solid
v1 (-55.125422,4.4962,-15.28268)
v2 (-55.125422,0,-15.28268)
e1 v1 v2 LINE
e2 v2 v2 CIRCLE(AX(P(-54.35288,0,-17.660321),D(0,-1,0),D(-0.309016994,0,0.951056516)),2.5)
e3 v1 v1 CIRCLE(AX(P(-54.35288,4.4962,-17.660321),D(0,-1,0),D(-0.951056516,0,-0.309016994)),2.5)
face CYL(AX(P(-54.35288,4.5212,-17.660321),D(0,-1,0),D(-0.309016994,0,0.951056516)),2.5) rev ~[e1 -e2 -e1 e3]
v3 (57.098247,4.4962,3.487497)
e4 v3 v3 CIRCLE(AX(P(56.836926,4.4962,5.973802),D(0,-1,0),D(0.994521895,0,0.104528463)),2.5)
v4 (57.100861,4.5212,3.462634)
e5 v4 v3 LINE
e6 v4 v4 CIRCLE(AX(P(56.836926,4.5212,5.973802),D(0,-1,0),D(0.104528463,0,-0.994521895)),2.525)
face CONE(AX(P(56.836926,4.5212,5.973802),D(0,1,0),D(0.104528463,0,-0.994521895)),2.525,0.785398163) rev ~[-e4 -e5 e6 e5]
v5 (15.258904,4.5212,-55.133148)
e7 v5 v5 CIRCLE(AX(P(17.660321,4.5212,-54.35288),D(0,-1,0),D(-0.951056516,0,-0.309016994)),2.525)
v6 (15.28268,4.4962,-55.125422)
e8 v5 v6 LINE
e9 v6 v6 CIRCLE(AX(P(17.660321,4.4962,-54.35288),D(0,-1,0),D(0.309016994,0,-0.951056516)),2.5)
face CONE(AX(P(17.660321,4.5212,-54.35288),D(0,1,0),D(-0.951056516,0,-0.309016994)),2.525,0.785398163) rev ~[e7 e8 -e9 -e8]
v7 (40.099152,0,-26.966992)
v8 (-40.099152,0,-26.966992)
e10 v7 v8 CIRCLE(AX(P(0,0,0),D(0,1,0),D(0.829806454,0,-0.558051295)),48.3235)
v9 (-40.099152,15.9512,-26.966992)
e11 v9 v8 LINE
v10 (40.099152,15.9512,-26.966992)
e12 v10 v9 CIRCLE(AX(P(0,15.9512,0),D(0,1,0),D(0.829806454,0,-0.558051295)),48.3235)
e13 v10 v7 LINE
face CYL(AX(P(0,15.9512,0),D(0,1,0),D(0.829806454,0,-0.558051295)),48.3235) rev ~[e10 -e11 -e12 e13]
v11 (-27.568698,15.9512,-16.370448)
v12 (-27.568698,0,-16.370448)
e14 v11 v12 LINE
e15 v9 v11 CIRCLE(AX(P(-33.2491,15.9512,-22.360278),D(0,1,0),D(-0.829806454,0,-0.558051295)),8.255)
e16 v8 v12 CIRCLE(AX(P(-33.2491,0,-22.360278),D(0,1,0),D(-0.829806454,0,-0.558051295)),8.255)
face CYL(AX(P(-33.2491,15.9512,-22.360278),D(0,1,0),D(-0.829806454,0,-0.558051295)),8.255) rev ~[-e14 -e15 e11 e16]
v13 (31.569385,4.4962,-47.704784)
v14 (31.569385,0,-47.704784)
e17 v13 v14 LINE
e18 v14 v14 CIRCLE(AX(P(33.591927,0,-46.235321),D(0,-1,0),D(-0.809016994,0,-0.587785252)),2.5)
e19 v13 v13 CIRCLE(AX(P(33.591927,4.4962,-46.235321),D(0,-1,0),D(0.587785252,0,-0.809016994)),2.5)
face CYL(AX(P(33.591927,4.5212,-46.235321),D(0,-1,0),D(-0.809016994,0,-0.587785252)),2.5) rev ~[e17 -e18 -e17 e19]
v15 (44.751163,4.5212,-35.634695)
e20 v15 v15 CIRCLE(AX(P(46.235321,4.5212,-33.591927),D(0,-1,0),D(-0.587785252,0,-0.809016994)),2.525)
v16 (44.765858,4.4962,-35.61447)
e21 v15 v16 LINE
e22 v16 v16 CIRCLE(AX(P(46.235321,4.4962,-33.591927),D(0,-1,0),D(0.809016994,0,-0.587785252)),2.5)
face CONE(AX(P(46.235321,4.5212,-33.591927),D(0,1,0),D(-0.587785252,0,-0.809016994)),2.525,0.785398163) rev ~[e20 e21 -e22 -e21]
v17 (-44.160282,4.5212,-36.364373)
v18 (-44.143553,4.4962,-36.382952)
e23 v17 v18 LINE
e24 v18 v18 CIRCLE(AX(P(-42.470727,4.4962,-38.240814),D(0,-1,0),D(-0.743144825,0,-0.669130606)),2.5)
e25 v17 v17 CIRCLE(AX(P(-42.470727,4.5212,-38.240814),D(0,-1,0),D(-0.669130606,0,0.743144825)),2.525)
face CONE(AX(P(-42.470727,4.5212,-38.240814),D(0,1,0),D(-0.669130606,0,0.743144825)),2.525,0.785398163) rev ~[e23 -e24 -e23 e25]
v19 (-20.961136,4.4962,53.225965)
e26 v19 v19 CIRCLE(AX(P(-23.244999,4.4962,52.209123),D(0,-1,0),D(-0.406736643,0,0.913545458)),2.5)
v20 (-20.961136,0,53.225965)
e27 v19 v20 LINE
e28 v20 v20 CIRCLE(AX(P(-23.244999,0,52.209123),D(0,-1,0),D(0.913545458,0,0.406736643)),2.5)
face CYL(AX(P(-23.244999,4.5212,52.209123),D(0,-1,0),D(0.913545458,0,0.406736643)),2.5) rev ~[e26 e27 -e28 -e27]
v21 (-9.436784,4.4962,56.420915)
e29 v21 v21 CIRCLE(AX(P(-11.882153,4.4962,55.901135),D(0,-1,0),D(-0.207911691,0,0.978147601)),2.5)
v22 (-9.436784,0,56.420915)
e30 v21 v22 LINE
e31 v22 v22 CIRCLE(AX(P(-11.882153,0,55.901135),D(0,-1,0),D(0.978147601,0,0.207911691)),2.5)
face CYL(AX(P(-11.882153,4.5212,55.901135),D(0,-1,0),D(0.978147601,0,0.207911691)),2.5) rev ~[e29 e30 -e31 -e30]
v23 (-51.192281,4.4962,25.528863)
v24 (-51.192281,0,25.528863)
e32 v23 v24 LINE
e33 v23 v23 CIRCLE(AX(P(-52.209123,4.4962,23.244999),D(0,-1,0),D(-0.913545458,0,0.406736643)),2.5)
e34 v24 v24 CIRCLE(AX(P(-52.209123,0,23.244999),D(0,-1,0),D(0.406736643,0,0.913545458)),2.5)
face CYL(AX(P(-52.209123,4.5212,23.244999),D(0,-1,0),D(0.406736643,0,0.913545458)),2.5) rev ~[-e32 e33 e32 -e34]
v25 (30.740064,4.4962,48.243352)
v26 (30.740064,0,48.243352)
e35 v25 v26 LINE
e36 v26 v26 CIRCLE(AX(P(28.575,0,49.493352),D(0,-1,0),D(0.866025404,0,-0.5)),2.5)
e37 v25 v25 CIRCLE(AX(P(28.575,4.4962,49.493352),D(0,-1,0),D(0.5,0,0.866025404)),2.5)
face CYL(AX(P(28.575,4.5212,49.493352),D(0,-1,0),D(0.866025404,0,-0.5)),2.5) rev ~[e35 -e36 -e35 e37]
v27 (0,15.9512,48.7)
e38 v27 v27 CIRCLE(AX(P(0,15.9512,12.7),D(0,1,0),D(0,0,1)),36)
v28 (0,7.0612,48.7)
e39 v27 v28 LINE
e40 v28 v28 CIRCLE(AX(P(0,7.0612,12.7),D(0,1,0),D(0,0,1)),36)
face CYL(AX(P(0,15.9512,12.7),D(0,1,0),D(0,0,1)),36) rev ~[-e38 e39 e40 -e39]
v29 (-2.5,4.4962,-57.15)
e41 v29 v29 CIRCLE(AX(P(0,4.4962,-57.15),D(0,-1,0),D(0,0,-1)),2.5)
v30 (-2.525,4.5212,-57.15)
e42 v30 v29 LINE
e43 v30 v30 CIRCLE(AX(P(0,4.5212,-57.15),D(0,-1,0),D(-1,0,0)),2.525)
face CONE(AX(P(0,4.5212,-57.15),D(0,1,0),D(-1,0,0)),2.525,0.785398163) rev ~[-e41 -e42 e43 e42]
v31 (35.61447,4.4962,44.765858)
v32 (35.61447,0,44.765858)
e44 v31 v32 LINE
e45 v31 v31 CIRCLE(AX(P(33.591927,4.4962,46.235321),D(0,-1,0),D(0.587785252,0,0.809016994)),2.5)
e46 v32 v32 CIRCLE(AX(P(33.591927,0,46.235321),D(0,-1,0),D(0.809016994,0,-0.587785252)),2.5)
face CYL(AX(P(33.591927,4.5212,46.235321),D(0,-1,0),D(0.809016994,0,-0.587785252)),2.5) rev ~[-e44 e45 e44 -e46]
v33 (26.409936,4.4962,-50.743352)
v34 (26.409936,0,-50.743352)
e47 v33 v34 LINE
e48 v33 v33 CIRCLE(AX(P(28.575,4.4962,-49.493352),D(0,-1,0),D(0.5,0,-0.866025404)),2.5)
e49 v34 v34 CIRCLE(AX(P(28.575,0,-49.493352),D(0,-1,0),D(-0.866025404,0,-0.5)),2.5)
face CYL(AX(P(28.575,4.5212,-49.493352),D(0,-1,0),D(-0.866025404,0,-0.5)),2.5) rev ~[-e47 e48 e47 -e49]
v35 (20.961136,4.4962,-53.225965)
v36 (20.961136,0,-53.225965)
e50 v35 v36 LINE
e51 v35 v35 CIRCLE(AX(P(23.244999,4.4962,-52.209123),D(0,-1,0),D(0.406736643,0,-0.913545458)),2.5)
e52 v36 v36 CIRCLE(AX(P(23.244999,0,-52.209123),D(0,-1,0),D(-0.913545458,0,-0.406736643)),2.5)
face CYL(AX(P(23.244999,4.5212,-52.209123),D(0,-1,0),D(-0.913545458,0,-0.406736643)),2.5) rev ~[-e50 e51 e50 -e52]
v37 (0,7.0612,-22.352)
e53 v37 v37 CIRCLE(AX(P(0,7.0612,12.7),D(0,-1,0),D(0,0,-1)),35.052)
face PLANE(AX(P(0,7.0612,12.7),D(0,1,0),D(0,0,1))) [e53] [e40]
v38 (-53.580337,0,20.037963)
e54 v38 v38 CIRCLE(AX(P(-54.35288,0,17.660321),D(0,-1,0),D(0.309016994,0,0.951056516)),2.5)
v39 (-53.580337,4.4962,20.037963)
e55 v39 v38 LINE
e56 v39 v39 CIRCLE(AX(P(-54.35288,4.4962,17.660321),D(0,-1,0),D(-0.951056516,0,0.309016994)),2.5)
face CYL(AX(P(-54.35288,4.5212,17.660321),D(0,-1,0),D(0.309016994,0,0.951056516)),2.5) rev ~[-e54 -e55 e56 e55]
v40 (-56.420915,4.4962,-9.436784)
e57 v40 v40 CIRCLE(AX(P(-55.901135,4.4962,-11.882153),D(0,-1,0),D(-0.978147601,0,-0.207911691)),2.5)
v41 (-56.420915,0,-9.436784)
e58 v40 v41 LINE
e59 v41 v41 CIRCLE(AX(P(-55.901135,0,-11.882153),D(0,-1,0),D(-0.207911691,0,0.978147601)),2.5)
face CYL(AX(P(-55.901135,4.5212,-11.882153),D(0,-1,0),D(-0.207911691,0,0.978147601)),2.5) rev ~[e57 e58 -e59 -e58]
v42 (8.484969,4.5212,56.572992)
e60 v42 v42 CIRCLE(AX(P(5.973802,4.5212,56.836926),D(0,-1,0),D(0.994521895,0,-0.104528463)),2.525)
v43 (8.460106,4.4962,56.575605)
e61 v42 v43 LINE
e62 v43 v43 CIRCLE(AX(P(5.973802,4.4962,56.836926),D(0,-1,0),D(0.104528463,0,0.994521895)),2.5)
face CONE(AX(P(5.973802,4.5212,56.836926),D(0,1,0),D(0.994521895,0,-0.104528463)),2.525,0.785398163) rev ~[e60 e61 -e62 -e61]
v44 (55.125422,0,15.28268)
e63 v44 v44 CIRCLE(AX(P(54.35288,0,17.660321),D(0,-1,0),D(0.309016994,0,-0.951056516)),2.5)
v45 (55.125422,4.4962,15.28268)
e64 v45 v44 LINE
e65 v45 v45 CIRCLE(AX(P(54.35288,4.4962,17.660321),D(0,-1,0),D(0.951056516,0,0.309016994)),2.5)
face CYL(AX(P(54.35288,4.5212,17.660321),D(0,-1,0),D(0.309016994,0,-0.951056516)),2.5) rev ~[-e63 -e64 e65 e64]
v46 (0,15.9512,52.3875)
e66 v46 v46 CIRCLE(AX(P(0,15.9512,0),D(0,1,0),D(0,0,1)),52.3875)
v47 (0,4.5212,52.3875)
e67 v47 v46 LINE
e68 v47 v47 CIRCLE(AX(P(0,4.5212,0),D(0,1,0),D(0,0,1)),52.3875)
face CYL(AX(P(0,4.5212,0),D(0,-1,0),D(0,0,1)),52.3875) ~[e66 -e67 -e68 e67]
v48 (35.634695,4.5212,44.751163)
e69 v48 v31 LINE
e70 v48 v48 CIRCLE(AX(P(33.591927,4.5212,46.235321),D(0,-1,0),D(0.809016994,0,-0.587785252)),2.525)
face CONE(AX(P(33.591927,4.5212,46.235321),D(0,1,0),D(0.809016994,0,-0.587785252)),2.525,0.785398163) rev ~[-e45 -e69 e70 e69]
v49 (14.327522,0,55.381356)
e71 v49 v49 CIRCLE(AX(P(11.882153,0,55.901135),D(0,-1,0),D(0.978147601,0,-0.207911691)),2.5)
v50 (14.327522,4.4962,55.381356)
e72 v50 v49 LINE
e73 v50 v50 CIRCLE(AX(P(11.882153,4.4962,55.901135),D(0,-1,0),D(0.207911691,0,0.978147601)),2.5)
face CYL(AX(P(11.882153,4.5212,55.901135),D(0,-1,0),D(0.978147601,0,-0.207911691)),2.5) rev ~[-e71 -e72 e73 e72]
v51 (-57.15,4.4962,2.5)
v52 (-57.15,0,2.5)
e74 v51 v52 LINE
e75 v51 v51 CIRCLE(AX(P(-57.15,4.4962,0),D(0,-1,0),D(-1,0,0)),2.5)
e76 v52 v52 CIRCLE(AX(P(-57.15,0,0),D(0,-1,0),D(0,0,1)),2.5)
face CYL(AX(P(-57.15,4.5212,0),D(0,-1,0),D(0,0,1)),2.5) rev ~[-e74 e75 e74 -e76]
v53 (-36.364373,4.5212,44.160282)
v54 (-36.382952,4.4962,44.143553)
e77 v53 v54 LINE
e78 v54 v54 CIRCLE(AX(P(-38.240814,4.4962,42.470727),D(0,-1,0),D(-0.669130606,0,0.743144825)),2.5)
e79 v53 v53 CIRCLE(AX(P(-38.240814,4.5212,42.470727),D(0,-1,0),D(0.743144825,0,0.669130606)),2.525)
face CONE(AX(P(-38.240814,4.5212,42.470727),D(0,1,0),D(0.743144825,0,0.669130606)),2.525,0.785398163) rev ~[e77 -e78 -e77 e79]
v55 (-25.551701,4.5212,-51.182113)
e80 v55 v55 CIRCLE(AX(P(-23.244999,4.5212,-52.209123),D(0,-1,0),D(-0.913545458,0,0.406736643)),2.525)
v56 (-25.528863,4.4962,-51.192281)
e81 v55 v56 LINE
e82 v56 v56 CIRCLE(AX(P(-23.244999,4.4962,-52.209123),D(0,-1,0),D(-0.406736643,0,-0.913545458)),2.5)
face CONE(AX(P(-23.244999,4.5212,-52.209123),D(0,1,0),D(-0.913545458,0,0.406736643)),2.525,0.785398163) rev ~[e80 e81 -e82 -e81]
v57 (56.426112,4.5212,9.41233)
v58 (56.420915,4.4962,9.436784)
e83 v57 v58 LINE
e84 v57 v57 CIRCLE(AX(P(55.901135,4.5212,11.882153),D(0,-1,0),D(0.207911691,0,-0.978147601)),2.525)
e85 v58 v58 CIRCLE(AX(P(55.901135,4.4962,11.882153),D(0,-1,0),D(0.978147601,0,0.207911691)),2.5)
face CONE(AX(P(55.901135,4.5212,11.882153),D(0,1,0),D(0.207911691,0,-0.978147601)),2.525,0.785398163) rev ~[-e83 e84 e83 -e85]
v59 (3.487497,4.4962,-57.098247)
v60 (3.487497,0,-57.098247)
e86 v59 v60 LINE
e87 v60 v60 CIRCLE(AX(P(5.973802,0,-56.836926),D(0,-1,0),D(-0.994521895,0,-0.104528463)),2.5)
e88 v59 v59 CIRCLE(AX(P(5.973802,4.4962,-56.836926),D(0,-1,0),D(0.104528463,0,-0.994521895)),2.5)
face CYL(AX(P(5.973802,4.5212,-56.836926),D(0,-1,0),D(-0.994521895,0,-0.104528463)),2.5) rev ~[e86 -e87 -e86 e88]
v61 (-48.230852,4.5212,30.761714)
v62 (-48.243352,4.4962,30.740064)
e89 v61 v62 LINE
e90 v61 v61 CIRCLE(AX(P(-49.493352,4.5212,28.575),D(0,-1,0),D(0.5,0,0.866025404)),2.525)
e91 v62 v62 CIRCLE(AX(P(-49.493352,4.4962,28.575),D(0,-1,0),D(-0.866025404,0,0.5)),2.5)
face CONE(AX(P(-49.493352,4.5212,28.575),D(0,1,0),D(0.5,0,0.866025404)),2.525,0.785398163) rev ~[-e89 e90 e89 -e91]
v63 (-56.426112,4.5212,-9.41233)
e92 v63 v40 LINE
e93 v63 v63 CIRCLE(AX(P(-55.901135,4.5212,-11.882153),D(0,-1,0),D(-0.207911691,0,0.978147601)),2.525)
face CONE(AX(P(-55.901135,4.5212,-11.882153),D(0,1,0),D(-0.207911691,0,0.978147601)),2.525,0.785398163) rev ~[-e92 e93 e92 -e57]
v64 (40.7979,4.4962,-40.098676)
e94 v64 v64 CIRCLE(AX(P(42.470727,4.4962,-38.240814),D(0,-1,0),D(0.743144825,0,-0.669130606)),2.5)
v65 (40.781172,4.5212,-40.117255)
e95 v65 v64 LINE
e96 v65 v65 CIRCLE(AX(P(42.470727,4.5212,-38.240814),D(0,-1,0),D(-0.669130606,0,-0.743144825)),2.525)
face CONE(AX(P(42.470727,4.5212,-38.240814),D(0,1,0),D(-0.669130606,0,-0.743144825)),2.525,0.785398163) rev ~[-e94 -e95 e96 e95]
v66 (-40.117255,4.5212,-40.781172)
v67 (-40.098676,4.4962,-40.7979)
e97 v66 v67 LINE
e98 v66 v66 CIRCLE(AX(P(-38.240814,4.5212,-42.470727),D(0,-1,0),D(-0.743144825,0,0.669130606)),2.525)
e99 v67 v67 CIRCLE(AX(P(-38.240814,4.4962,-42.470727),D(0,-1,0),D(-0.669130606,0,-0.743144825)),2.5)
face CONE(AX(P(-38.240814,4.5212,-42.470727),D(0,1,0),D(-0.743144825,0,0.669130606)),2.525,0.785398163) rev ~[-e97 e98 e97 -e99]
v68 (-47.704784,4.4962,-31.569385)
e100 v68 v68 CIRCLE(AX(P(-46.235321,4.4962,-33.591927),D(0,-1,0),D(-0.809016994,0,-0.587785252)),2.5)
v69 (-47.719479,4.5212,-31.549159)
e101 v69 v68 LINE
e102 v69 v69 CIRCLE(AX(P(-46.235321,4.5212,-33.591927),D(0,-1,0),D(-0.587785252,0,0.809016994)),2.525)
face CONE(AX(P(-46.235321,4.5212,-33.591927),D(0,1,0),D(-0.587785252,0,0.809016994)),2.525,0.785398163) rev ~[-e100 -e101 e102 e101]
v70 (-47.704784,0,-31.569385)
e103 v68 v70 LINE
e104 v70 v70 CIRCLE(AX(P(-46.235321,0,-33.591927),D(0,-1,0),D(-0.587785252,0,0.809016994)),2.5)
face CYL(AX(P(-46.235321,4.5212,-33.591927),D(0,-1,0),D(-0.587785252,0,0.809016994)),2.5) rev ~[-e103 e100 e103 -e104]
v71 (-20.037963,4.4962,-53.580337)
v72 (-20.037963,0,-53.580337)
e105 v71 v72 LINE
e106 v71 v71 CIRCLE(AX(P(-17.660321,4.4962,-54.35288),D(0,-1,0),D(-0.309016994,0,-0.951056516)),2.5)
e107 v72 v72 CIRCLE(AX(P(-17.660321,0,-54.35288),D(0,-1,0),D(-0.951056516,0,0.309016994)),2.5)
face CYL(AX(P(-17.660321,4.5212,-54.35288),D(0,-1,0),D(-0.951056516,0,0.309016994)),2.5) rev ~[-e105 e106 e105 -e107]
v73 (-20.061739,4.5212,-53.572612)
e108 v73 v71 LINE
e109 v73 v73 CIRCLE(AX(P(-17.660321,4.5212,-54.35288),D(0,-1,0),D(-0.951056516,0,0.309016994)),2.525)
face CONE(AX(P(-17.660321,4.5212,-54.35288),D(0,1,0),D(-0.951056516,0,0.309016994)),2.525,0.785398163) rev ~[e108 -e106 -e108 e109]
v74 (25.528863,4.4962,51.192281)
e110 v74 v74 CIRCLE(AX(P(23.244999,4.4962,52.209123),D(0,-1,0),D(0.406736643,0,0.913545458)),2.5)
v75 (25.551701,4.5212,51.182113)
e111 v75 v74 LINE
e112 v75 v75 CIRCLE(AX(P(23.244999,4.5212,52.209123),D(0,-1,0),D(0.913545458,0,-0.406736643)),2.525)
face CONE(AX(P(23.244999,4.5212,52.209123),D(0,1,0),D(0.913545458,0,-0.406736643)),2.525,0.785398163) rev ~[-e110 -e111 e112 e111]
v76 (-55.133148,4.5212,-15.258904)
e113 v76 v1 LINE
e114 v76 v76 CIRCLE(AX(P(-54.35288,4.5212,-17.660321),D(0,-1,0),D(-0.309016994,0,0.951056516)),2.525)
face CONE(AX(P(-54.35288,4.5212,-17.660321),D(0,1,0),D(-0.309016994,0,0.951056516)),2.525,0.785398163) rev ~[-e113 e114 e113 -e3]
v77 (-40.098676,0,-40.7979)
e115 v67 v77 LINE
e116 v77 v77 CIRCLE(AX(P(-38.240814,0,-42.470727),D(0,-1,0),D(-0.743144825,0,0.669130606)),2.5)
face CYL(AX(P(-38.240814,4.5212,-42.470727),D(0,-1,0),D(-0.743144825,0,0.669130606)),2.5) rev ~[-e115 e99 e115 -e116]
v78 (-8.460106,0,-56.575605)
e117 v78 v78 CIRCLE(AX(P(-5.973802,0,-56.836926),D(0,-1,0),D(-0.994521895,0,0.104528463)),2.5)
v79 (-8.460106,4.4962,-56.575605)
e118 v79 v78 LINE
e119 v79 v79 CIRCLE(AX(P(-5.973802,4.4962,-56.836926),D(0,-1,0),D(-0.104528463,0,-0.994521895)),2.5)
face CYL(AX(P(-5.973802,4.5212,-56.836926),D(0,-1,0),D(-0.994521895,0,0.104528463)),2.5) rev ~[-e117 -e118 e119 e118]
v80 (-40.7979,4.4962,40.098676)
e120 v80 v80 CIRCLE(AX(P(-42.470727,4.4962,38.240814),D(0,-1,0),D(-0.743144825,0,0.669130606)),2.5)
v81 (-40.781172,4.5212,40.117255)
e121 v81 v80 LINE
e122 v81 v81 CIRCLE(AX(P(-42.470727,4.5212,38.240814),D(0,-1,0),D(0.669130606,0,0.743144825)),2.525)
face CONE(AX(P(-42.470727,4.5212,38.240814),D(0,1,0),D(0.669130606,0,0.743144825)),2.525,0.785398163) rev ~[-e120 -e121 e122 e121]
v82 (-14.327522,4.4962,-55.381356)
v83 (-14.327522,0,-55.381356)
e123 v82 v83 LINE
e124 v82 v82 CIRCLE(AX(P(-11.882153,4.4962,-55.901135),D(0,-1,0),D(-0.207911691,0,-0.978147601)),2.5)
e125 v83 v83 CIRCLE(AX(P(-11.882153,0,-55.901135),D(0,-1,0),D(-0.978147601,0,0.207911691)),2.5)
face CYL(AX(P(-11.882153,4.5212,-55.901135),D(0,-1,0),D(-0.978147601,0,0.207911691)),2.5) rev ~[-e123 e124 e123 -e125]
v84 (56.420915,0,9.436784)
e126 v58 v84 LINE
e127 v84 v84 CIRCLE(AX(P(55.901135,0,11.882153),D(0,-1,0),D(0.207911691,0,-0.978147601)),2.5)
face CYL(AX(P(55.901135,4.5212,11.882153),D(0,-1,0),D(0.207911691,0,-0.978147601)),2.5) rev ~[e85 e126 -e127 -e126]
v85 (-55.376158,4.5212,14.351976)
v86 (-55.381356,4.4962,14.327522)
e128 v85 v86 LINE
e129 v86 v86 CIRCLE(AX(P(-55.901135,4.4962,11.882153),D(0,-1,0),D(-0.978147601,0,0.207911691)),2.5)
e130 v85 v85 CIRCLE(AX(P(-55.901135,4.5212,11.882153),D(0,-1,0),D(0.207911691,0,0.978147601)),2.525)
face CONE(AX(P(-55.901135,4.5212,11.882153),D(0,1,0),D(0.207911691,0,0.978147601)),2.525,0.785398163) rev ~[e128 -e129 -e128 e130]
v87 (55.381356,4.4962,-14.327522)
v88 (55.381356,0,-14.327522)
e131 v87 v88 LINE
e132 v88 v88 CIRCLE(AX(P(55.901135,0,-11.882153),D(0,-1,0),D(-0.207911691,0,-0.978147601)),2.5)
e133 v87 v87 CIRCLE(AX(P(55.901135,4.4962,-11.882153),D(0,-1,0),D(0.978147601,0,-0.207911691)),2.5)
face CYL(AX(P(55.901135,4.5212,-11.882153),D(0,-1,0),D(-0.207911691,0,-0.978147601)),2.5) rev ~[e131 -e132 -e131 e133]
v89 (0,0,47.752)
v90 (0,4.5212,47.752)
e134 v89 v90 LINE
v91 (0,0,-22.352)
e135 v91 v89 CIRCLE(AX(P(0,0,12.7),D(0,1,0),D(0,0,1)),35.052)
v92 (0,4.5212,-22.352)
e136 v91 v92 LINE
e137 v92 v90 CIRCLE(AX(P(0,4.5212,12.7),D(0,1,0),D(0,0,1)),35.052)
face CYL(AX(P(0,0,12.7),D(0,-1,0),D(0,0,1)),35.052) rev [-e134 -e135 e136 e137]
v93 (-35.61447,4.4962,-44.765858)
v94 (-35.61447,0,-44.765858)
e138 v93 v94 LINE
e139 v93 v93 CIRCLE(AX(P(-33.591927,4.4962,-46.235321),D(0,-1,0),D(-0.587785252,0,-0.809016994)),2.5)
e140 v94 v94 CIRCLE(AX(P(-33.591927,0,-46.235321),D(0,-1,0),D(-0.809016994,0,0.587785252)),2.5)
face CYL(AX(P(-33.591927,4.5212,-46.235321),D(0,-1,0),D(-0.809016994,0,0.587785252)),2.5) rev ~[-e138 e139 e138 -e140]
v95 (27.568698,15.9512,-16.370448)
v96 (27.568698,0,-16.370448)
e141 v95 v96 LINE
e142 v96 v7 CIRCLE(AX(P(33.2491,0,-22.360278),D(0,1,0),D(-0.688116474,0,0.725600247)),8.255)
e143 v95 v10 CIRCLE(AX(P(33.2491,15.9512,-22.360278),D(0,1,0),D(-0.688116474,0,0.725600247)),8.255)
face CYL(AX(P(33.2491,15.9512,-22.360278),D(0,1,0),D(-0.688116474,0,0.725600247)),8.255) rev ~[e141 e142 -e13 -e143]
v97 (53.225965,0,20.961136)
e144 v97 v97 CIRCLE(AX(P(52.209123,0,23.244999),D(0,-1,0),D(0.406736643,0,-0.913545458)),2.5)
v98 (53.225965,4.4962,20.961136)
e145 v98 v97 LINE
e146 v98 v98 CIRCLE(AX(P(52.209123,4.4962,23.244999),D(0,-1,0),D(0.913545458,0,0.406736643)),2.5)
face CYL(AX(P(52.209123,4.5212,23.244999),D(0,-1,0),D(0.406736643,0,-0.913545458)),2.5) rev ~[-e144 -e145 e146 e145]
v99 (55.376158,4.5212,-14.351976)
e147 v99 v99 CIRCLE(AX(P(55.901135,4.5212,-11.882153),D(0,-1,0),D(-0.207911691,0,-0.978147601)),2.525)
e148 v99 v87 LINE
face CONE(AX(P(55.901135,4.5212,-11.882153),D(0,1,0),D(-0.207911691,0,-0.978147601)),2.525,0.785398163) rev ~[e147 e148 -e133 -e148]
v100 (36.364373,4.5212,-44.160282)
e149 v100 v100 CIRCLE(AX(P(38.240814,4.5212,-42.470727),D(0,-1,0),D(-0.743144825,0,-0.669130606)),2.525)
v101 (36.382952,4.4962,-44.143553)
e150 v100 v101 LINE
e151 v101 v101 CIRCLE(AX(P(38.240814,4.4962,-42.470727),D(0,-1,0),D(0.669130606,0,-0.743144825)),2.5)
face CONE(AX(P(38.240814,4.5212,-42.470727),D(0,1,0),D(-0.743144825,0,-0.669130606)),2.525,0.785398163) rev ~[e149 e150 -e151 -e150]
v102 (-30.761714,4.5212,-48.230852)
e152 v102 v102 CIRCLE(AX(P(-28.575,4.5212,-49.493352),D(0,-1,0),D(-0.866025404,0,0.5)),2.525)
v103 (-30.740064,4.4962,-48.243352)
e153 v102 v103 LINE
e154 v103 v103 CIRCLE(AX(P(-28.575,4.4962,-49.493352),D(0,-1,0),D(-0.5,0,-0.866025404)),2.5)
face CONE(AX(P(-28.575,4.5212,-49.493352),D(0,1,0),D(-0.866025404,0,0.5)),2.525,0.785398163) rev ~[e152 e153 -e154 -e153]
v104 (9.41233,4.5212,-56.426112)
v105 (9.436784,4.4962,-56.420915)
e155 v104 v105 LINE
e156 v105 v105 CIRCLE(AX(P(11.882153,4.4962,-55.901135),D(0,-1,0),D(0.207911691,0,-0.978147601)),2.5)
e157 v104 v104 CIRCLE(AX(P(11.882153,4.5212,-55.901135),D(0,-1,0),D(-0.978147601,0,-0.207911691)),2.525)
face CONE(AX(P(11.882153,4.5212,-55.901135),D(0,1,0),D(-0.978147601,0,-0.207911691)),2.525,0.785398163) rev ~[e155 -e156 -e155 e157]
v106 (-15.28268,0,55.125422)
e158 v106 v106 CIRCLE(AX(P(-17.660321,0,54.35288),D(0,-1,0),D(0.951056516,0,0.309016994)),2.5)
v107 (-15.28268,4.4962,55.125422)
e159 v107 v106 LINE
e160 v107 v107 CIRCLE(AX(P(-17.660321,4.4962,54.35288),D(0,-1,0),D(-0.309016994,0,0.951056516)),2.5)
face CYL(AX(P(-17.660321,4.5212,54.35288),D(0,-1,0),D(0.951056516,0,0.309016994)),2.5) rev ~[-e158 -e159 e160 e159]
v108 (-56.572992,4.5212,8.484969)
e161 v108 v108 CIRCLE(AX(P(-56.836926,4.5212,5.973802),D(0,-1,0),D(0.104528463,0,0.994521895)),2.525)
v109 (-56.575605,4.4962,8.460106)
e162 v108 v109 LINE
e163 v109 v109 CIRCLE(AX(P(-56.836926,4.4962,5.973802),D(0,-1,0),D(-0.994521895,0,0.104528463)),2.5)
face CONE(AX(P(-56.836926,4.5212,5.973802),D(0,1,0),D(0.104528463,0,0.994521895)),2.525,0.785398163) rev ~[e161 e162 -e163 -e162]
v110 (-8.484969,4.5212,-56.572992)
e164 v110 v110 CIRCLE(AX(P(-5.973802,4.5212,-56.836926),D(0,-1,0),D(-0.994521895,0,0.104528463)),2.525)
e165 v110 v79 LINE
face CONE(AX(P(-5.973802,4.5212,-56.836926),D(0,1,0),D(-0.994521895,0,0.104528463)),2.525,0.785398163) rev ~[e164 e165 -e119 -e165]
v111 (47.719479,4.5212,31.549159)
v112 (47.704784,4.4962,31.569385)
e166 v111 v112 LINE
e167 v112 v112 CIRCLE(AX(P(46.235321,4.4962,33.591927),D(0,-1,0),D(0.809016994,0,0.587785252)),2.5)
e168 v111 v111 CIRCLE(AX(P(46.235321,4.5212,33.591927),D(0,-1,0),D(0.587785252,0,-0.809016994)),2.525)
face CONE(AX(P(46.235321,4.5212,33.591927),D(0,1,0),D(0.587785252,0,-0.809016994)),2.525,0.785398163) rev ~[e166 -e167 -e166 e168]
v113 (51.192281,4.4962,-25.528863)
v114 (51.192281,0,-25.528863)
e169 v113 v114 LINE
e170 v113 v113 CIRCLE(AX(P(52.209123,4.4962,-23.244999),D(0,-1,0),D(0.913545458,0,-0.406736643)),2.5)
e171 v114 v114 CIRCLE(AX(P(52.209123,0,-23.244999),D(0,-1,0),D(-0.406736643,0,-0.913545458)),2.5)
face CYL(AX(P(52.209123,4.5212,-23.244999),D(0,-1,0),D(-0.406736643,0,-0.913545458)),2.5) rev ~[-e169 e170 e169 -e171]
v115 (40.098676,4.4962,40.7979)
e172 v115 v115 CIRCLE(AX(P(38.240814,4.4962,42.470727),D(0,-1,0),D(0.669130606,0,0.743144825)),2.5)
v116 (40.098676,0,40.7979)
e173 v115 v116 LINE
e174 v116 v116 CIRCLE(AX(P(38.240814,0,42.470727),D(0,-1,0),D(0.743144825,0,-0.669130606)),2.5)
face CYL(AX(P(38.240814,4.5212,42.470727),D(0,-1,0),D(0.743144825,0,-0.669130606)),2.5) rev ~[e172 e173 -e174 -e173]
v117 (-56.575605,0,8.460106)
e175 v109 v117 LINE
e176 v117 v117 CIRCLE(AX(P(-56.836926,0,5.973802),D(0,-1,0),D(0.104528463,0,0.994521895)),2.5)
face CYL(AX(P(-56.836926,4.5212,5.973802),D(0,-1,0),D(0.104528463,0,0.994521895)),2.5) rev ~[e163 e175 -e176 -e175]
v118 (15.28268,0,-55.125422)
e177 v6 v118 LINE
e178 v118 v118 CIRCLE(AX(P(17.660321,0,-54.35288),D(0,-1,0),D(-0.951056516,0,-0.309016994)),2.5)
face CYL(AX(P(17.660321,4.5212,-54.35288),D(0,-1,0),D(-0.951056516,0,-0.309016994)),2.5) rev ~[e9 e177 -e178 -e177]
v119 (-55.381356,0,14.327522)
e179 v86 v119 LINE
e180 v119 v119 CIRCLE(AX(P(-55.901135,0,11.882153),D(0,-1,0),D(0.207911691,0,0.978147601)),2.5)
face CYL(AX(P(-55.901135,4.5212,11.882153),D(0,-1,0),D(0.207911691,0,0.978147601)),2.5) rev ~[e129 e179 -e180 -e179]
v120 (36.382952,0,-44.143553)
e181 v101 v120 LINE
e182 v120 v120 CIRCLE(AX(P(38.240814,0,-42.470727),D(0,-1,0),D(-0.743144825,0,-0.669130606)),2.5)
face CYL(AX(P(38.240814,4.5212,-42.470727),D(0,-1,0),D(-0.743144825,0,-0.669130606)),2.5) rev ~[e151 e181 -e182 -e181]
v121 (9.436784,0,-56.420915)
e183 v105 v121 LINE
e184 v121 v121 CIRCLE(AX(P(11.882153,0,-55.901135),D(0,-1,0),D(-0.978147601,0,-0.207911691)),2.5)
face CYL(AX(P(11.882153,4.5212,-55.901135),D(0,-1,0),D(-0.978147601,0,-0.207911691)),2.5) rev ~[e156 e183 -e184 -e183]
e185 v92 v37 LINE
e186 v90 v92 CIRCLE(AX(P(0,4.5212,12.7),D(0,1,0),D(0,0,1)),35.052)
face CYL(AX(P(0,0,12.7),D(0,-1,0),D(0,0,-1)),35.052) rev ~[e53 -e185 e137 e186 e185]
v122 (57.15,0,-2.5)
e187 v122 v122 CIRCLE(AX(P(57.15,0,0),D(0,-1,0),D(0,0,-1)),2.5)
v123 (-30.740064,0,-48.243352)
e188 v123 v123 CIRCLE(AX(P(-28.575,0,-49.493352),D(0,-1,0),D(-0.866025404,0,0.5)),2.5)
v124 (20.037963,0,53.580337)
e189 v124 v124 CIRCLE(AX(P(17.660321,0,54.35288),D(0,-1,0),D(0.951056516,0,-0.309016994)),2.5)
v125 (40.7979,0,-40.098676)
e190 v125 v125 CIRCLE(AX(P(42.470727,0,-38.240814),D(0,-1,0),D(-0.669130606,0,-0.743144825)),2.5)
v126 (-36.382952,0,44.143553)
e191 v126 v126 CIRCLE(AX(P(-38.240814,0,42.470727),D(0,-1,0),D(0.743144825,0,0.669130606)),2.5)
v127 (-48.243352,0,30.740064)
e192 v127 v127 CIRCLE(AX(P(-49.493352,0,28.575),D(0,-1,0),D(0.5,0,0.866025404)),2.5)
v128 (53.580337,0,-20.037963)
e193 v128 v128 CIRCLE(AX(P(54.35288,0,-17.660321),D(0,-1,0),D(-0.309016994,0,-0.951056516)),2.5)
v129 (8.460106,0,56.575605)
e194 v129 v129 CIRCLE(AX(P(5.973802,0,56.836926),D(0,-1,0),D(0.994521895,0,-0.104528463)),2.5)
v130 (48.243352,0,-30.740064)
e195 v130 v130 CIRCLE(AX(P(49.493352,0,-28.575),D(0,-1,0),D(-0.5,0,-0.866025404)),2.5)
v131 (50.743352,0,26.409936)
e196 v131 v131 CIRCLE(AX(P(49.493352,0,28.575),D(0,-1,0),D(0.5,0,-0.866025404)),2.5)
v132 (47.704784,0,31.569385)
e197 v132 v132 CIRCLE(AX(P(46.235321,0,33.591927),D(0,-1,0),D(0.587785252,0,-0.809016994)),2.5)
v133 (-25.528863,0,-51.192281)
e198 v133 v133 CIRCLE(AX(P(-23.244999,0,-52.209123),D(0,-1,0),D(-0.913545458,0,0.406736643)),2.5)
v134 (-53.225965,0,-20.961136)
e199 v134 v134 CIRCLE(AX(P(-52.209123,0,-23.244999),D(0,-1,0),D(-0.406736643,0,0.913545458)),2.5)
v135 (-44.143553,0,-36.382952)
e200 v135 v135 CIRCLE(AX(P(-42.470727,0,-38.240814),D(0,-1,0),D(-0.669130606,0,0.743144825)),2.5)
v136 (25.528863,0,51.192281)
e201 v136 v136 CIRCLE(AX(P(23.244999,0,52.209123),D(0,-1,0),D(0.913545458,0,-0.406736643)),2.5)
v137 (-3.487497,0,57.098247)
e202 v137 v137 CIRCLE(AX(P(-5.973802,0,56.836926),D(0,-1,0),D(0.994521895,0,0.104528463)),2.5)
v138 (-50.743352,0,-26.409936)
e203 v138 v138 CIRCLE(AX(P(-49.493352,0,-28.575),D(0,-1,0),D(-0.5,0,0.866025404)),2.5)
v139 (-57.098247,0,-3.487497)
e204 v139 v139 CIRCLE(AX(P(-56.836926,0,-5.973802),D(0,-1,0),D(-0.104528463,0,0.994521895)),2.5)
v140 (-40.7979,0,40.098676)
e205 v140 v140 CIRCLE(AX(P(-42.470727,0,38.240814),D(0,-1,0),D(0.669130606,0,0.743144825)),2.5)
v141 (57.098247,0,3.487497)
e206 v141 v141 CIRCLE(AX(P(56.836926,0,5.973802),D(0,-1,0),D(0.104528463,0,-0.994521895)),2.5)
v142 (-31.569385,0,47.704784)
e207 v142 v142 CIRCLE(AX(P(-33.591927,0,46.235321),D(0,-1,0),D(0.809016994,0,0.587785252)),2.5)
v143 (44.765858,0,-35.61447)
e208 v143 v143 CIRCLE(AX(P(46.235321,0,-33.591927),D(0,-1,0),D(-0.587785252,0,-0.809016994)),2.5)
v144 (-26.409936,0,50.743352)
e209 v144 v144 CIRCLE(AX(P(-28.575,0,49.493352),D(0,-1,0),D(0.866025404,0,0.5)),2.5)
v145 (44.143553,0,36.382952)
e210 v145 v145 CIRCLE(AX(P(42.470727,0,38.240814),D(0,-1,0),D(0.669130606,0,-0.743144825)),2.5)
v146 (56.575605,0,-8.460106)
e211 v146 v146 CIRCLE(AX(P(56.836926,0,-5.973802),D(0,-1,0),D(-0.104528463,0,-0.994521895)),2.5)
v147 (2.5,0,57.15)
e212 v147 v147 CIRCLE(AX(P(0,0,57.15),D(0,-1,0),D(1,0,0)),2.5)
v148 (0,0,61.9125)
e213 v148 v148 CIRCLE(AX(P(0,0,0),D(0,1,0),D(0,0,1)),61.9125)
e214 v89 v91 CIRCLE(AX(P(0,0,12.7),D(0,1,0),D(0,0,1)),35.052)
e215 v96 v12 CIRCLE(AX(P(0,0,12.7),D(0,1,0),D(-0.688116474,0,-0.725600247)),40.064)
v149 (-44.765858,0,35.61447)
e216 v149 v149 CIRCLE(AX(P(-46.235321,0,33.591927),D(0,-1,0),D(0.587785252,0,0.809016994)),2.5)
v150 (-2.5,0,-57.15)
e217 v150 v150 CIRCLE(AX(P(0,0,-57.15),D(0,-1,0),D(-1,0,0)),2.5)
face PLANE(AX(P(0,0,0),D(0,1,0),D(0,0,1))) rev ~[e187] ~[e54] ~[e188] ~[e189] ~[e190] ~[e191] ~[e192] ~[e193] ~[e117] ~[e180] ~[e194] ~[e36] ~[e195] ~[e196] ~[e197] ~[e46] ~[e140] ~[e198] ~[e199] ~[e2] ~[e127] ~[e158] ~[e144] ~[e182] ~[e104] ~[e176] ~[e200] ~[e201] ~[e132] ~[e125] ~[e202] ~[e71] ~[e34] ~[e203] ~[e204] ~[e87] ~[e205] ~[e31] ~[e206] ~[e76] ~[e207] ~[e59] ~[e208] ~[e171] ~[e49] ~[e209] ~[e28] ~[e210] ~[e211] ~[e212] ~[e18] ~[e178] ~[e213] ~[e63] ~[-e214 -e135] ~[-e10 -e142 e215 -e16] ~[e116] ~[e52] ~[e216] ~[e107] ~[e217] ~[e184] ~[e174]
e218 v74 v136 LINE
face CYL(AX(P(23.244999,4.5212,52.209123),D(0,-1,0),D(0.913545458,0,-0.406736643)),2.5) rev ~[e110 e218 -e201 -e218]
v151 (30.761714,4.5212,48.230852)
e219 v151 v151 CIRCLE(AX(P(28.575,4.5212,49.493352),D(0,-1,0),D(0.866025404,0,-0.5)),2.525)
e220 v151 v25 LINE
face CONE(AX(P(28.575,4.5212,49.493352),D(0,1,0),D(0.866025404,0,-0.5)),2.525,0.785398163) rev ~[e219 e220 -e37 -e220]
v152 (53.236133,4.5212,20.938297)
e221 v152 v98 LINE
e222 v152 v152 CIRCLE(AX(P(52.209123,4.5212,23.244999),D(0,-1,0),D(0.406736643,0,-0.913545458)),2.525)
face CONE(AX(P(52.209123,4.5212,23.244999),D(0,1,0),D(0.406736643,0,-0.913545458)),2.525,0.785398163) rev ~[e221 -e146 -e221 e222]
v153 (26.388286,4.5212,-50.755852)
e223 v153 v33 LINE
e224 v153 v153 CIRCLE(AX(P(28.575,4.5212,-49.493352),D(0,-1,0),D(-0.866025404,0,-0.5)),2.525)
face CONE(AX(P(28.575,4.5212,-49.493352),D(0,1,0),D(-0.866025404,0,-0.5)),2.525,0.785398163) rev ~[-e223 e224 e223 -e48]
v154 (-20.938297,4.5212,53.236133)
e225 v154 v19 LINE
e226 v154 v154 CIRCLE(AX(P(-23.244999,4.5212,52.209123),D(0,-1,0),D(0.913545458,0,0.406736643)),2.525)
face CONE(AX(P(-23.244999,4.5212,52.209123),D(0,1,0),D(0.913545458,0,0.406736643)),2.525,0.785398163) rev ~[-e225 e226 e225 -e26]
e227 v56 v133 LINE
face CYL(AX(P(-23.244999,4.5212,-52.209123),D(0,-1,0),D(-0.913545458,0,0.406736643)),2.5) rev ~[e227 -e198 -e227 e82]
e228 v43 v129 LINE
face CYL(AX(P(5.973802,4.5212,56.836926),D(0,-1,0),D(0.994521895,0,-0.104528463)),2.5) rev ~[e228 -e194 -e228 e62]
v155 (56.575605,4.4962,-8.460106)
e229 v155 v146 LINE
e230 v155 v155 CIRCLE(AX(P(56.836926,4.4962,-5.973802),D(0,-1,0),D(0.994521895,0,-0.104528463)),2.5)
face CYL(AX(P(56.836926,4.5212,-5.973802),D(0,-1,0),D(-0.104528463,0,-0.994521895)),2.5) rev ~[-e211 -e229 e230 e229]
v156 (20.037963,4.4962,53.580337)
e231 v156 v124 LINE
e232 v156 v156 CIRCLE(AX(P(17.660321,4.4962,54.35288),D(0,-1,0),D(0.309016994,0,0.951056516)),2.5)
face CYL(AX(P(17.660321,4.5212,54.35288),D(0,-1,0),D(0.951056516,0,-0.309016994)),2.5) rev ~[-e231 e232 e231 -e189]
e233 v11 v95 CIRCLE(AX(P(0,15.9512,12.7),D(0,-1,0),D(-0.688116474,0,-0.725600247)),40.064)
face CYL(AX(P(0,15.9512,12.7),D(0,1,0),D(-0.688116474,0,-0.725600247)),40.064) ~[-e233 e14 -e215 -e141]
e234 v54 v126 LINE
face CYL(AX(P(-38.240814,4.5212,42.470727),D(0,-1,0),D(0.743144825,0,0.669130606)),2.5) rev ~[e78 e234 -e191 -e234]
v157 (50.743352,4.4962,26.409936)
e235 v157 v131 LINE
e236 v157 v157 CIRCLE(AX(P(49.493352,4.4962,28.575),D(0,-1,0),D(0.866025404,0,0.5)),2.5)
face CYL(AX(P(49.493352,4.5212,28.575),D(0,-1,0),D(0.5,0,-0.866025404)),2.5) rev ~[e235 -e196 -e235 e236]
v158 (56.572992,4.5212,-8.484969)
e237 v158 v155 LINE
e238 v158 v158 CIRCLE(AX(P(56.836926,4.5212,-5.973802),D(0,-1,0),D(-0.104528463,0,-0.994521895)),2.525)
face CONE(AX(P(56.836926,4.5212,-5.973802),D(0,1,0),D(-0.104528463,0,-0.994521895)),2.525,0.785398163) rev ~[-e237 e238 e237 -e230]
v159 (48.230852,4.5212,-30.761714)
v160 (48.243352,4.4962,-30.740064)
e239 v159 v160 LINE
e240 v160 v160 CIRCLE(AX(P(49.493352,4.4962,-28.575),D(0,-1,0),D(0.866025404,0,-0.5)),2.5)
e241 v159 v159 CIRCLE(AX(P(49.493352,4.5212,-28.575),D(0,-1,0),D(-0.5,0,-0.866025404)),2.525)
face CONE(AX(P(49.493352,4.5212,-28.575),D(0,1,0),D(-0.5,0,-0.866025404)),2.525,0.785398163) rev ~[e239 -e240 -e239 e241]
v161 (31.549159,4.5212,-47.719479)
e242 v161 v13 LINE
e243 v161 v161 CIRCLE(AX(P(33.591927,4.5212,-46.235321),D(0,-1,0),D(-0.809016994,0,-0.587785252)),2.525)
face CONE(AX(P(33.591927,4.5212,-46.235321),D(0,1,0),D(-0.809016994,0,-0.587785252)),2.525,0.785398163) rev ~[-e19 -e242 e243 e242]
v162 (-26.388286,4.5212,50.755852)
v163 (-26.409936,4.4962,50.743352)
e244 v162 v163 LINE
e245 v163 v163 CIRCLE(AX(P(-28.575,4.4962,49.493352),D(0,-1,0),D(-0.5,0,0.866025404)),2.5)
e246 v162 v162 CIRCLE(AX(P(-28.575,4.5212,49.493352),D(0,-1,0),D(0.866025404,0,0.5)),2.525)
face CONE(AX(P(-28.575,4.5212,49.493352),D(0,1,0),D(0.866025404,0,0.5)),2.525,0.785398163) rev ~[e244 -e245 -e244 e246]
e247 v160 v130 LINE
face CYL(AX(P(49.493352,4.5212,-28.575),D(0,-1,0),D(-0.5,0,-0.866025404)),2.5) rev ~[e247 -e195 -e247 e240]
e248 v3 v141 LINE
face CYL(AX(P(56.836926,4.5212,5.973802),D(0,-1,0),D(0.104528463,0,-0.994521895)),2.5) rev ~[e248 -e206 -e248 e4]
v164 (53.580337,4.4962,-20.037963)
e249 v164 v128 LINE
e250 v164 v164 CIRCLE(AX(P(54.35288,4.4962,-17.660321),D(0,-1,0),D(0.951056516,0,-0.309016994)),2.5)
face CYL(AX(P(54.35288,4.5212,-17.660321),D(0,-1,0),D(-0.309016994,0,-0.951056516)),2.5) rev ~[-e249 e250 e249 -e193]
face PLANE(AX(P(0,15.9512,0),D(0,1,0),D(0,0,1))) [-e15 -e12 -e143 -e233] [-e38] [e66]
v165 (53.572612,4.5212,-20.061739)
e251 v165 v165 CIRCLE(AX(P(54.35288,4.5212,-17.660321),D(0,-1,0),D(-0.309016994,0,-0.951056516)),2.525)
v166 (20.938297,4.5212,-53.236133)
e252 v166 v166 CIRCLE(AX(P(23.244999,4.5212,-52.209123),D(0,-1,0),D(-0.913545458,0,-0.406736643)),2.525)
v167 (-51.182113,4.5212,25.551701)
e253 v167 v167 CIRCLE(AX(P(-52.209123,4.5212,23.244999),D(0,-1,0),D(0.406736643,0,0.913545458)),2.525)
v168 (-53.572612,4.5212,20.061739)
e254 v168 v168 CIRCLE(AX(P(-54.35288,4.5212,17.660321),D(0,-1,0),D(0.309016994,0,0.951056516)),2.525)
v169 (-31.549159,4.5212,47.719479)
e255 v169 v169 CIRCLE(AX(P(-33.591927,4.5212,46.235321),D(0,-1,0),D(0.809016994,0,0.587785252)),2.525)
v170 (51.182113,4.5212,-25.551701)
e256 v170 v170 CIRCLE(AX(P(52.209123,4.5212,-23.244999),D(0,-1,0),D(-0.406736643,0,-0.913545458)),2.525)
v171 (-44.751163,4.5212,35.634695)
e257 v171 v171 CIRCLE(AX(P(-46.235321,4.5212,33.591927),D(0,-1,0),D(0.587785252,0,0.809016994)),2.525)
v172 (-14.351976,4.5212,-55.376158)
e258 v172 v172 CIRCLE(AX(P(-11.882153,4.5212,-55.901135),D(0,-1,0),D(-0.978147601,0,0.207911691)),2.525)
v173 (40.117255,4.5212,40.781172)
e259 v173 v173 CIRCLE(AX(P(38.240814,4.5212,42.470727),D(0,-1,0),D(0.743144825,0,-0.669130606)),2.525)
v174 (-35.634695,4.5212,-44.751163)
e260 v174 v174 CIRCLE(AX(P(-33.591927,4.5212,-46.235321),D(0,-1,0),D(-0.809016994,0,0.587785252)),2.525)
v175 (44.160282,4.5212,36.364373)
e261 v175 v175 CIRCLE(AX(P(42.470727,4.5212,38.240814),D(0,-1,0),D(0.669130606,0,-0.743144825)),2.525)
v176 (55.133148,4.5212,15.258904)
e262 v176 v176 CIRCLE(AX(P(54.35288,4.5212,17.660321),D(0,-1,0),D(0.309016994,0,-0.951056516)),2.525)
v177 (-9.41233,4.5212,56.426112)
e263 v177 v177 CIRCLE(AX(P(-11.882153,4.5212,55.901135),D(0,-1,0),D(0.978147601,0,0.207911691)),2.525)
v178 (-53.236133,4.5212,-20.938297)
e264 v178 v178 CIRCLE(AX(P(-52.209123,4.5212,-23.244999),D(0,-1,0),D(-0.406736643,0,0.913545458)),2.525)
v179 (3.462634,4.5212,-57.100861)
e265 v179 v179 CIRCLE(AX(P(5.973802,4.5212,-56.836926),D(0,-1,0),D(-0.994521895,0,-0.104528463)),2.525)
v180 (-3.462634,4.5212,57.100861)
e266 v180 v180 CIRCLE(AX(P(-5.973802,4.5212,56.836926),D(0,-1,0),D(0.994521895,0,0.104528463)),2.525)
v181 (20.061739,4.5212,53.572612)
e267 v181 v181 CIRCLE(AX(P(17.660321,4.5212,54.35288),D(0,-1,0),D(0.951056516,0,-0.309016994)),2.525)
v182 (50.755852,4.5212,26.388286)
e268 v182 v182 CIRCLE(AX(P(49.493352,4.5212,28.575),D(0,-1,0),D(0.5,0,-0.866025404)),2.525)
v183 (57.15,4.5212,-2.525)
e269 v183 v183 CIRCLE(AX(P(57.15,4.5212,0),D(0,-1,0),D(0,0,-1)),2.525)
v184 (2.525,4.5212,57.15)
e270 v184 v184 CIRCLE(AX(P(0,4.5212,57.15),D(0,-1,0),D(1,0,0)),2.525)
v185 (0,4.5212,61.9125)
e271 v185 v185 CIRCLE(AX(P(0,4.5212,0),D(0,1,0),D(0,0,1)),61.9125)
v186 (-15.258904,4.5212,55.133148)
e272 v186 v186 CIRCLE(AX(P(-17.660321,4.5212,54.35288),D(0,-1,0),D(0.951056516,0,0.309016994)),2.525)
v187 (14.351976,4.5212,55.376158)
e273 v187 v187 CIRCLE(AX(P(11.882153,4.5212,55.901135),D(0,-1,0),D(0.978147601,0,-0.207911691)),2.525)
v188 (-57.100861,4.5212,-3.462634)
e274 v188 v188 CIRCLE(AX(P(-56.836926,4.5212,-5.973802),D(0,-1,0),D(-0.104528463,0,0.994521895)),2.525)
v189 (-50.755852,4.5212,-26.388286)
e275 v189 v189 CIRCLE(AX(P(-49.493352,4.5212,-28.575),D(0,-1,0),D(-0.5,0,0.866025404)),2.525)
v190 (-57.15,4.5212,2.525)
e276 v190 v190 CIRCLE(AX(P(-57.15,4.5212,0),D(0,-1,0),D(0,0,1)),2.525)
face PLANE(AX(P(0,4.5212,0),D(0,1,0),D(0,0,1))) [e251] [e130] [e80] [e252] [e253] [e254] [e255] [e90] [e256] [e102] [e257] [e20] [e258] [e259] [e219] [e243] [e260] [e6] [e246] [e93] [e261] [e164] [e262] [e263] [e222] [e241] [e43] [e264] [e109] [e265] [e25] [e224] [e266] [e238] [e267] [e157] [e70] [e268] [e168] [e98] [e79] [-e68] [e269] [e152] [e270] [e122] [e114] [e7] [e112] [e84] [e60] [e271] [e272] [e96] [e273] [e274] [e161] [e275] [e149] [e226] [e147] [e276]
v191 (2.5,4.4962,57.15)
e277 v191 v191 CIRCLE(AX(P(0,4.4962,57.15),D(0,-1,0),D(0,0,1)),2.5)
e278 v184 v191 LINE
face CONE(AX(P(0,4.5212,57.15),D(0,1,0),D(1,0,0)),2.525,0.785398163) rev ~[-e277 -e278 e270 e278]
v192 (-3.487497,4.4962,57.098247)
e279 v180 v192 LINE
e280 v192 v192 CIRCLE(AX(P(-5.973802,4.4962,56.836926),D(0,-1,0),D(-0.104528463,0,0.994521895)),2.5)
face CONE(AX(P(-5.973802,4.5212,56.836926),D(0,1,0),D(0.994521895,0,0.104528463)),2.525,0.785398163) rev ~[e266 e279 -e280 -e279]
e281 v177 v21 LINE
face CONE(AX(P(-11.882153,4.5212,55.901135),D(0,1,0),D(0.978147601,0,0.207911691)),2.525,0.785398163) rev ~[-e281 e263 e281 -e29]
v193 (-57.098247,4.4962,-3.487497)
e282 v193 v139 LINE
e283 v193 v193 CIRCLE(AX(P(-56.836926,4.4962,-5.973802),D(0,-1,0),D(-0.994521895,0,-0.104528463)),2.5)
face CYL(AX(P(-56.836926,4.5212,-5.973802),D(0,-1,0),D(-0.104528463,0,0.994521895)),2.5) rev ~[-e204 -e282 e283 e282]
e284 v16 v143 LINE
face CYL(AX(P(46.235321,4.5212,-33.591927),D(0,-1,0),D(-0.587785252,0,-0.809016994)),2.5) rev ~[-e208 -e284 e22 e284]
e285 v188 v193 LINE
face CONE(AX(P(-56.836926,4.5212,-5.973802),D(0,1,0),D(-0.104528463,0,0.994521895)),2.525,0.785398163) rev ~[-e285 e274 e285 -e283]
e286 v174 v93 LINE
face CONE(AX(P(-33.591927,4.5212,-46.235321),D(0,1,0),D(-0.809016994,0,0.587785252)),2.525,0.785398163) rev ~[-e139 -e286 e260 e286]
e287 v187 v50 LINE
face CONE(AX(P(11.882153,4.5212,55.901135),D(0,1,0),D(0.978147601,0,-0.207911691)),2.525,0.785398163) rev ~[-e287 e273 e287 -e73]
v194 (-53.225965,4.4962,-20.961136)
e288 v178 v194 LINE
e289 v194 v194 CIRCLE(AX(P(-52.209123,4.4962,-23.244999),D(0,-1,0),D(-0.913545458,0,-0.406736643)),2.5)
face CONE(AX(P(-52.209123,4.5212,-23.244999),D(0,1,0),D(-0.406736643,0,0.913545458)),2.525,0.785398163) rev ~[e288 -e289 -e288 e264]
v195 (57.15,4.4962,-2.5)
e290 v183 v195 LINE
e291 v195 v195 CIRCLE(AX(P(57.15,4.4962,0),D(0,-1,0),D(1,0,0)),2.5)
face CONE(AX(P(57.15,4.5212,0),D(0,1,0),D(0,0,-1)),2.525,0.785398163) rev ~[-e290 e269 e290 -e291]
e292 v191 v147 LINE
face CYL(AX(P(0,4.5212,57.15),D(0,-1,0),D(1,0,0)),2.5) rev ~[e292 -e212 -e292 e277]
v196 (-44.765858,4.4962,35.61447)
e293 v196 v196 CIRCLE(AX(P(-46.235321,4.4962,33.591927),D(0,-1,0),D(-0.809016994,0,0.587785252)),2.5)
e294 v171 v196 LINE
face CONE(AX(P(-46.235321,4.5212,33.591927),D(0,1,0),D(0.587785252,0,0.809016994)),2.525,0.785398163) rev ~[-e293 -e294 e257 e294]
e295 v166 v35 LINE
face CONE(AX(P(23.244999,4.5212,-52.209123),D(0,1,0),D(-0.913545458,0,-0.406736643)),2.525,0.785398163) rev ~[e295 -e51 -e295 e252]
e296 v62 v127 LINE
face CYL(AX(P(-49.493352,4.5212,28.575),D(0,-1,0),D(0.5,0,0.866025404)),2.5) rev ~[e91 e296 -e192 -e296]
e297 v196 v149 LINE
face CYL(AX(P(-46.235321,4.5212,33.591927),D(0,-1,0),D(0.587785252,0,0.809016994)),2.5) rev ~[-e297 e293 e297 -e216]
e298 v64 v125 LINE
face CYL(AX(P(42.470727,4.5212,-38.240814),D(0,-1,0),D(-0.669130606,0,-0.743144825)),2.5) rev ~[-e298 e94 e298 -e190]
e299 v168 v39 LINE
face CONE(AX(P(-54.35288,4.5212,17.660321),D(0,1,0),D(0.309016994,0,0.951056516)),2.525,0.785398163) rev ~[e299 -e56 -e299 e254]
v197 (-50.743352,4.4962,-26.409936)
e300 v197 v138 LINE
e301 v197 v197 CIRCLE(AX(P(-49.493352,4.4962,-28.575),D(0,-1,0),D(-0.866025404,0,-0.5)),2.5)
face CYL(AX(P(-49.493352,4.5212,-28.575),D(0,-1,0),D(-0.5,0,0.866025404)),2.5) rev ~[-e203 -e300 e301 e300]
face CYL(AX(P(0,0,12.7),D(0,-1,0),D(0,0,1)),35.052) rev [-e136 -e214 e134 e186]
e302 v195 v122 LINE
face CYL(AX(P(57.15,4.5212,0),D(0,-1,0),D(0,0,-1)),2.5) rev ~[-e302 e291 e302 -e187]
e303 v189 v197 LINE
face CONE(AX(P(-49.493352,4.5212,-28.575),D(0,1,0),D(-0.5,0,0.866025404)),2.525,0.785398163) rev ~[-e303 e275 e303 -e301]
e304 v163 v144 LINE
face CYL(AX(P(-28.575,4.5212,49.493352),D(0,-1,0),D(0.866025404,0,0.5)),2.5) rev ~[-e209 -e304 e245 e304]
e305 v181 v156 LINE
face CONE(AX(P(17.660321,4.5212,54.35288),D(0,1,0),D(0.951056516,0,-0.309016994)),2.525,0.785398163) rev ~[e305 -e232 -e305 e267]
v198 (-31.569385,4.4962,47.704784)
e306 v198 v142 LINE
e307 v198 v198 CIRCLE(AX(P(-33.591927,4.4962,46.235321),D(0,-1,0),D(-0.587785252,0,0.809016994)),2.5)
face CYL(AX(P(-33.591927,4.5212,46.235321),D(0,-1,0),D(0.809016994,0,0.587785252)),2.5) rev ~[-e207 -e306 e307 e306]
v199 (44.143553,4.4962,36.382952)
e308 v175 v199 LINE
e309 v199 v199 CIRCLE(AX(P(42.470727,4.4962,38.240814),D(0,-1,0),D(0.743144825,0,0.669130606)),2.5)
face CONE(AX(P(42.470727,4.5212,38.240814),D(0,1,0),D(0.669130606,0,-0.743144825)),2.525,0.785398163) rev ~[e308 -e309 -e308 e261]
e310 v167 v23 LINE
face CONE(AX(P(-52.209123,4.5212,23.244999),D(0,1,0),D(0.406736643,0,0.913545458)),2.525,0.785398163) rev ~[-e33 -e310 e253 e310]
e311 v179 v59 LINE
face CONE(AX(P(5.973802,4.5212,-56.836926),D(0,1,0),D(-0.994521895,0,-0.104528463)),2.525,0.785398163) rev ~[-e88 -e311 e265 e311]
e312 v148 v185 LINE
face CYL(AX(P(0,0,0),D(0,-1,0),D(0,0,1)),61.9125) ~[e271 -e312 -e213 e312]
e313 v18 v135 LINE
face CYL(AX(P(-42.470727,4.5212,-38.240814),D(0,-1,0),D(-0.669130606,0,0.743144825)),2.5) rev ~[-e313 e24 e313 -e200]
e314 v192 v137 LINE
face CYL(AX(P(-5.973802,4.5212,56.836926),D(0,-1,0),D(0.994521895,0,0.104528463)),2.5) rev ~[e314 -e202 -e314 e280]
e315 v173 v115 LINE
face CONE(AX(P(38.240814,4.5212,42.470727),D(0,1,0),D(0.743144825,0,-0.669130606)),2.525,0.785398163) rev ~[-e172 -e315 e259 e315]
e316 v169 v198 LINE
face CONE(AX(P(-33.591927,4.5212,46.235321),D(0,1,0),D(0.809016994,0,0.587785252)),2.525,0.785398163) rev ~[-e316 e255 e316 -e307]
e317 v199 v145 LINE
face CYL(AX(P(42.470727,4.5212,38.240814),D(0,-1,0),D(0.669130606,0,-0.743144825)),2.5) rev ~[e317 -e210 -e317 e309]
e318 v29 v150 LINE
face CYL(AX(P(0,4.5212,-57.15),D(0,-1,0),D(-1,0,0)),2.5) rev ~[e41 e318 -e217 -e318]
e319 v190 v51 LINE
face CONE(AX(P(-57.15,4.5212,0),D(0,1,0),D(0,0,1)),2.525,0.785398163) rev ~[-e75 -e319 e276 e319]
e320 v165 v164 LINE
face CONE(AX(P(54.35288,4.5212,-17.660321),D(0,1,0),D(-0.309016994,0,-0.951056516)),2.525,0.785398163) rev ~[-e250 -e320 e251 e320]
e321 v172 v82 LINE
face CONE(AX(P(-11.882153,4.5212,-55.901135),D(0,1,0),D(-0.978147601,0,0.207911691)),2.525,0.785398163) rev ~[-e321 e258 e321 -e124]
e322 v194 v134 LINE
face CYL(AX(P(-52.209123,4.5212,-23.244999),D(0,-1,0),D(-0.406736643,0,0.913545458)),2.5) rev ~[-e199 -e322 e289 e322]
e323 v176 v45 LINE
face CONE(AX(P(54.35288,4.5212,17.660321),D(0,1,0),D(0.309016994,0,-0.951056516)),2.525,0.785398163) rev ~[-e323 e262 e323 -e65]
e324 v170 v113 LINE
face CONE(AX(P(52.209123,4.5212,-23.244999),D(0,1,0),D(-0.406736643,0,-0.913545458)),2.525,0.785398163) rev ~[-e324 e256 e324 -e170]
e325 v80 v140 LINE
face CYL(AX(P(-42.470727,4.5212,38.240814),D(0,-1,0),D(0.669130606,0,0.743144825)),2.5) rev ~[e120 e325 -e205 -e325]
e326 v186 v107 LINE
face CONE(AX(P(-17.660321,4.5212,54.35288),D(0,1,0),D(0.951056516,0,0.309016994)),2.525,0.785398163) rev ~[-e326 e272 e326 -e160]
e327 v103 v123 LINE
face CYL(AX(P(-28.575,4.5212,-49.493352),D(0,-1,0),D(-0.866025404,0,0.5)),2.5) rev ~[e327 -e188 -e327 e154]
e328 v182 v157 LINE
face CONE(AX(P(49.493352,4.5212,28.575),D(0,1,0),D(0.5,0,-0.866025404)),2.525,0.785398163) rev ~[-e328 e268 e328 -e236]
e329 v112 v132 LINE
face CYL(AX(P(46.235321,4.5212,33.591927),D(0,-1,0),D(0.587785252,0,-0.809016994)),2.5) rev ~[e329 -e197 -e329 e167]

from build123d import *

# Parameters (mm, degrees)
SKETCH1_R                       = 61.9125
SKETCH1_R_2                     = 35.052
BOSS_EXTRUDE1_DEPTH             = 4.5212
SKETCH3_R                       = 52.3875
BOSS_EXTRUDE2_DEPTH             = 11.43
SKETCH4_R                       = 35.052
CUT_EXTRUDE1_DEPTH              = 89.998629731
SKETCH9_R                       = 36.000000009
CUT_EXTRUDE3_DEPTH              = 8.89
F_5_0MM_DOWEL_HOLE1_D           = 5
F_5_0MM_DOWEL_HOLE1_CSINK_D     = 5.05
F_5_0MM_DOWEL_HOLE1_CSINK_ANGLE = 90
CIRPATTERN1_COUNT               = 60
CUT_EXTRUDE5_DEPTH              = 89.998629731


with BuildPart() as part:
    # Sketch1 → Boss-Extrude1 (new body)
    with BuildSketch(Plane(origin=(0, 0, 0), x_dir=(1, 0, 0), z_dir=(0, 1, 0))):
        with Locations(Location((0, 0, 0), (0, 0, 270))):
            Circle(SKETCH1_R)
        with Locations(Location((0, -12.7, 0), (0, 0, 270))):
            Circle(SKETCH1_R_2, mode=Mode.SUBTRACT)
    extrude(amount=BOSS_EXTRUDE1_DEPTH)

    # Sketch3 → Boss-Extrude2 (add)
    with BuildSketch(Plane(origin=(0, 4.5212, 0), x_dir=(1, 0, 0), z_dir=(0, 1, 0))):
        with Locations(Location((0, 0, 0), (0, 0, 270))):
            Circle(SKETCH3_R)
    extrude(amount=BOSS_EXTRUDE2_DEPTH)

    # Sketch4 → Cut-Extrude1 (cut, through all)
    with BuildSketch(Plane.XZ):
        with Locations(Location((0, 12.7, 0), (0, 0, 270))):
            Circle(SKETCH4_R)
    extrude(amount=-CUT_EXTRUDE1_DEPTH, mode=Mode.SUBTRACT)

    # Sketch9 → Cut-Extrude3 (cut)
    with BuildSketch(Plane(origin=(0, 15.9512, 0), x_dir=(1, 0, 0), z_dir=(0, 1, 0))):
        with Locations(Location((0, -12.7, 0), (0, 0, 270))):
            Circle(SKETCH9_R)
    extrude(amount=-CUT_EXTRUDE3_DEPTH, mode=Mode.SUBTRACT)

    # Ø5.0mm Dowel Hole1 (through all)
    with Locations(Plane(origin=(0, 4.5212, 0), x_dir=(1, 0, 0), z_dir=(0, 1, 0))):
        with Locations((0, 57.15)):
            f_5_0mm_dowel_hole1 = CounterSinkHole(F_5_0MM_DOWEL_HOLE1_D / 2, F_5_0MM_DOWEL_HOLE1_CSINK_D / 2, counter_sink_angle=F_5_0MM_DOWEL_HOLE1_CSINK_ANGLE)

    # CirPattern1: Ø5.0mm Dowel Hole1 ×60 about axis
    cirpattern1_axis = Axis((0, 0, 0), (0, 1, 0))
    for i in range(1, CIRPATTERN1_COUNT):
        add(f_5_0mm_dowel_hole1.rotate(cirpattern1_axis, i * 360 / CIRPATTERN1_COUNT), mode=Mode.SUBTRACT)

    # Sketch10 → Cut-Extrude5 (cut, through all)
    with BuildSketch(Plane(origin=(0, 15.9512, 0), x_dir=(1, 0, 0), z_dir=(0, 1, 0))):
        with BuildLine():
            ThreePointArc((-27.568698422, 16.370448294), (0, 27.364000009), (27.568698422, 16.370448294))
            ThreePointArc((27.568698422, 16.370448294), (38.57955057, 16.056999754), (40.099152196, 26.966991775))
            ThreePointArc((40.099152196, 26.966991775), (0, 48.3235), (-40.099152196, 26.966991775))
            ThreePointArc((-40.099152196, 26.966991775), (-38.57955057, 16.056999754), (-27.568698422, 16.370448294))
        make_face()
    extrude(amount=-CUT_EXTRUDE5_DEPTH, mode=Mode.SUBTRACT)


solid = part.part
